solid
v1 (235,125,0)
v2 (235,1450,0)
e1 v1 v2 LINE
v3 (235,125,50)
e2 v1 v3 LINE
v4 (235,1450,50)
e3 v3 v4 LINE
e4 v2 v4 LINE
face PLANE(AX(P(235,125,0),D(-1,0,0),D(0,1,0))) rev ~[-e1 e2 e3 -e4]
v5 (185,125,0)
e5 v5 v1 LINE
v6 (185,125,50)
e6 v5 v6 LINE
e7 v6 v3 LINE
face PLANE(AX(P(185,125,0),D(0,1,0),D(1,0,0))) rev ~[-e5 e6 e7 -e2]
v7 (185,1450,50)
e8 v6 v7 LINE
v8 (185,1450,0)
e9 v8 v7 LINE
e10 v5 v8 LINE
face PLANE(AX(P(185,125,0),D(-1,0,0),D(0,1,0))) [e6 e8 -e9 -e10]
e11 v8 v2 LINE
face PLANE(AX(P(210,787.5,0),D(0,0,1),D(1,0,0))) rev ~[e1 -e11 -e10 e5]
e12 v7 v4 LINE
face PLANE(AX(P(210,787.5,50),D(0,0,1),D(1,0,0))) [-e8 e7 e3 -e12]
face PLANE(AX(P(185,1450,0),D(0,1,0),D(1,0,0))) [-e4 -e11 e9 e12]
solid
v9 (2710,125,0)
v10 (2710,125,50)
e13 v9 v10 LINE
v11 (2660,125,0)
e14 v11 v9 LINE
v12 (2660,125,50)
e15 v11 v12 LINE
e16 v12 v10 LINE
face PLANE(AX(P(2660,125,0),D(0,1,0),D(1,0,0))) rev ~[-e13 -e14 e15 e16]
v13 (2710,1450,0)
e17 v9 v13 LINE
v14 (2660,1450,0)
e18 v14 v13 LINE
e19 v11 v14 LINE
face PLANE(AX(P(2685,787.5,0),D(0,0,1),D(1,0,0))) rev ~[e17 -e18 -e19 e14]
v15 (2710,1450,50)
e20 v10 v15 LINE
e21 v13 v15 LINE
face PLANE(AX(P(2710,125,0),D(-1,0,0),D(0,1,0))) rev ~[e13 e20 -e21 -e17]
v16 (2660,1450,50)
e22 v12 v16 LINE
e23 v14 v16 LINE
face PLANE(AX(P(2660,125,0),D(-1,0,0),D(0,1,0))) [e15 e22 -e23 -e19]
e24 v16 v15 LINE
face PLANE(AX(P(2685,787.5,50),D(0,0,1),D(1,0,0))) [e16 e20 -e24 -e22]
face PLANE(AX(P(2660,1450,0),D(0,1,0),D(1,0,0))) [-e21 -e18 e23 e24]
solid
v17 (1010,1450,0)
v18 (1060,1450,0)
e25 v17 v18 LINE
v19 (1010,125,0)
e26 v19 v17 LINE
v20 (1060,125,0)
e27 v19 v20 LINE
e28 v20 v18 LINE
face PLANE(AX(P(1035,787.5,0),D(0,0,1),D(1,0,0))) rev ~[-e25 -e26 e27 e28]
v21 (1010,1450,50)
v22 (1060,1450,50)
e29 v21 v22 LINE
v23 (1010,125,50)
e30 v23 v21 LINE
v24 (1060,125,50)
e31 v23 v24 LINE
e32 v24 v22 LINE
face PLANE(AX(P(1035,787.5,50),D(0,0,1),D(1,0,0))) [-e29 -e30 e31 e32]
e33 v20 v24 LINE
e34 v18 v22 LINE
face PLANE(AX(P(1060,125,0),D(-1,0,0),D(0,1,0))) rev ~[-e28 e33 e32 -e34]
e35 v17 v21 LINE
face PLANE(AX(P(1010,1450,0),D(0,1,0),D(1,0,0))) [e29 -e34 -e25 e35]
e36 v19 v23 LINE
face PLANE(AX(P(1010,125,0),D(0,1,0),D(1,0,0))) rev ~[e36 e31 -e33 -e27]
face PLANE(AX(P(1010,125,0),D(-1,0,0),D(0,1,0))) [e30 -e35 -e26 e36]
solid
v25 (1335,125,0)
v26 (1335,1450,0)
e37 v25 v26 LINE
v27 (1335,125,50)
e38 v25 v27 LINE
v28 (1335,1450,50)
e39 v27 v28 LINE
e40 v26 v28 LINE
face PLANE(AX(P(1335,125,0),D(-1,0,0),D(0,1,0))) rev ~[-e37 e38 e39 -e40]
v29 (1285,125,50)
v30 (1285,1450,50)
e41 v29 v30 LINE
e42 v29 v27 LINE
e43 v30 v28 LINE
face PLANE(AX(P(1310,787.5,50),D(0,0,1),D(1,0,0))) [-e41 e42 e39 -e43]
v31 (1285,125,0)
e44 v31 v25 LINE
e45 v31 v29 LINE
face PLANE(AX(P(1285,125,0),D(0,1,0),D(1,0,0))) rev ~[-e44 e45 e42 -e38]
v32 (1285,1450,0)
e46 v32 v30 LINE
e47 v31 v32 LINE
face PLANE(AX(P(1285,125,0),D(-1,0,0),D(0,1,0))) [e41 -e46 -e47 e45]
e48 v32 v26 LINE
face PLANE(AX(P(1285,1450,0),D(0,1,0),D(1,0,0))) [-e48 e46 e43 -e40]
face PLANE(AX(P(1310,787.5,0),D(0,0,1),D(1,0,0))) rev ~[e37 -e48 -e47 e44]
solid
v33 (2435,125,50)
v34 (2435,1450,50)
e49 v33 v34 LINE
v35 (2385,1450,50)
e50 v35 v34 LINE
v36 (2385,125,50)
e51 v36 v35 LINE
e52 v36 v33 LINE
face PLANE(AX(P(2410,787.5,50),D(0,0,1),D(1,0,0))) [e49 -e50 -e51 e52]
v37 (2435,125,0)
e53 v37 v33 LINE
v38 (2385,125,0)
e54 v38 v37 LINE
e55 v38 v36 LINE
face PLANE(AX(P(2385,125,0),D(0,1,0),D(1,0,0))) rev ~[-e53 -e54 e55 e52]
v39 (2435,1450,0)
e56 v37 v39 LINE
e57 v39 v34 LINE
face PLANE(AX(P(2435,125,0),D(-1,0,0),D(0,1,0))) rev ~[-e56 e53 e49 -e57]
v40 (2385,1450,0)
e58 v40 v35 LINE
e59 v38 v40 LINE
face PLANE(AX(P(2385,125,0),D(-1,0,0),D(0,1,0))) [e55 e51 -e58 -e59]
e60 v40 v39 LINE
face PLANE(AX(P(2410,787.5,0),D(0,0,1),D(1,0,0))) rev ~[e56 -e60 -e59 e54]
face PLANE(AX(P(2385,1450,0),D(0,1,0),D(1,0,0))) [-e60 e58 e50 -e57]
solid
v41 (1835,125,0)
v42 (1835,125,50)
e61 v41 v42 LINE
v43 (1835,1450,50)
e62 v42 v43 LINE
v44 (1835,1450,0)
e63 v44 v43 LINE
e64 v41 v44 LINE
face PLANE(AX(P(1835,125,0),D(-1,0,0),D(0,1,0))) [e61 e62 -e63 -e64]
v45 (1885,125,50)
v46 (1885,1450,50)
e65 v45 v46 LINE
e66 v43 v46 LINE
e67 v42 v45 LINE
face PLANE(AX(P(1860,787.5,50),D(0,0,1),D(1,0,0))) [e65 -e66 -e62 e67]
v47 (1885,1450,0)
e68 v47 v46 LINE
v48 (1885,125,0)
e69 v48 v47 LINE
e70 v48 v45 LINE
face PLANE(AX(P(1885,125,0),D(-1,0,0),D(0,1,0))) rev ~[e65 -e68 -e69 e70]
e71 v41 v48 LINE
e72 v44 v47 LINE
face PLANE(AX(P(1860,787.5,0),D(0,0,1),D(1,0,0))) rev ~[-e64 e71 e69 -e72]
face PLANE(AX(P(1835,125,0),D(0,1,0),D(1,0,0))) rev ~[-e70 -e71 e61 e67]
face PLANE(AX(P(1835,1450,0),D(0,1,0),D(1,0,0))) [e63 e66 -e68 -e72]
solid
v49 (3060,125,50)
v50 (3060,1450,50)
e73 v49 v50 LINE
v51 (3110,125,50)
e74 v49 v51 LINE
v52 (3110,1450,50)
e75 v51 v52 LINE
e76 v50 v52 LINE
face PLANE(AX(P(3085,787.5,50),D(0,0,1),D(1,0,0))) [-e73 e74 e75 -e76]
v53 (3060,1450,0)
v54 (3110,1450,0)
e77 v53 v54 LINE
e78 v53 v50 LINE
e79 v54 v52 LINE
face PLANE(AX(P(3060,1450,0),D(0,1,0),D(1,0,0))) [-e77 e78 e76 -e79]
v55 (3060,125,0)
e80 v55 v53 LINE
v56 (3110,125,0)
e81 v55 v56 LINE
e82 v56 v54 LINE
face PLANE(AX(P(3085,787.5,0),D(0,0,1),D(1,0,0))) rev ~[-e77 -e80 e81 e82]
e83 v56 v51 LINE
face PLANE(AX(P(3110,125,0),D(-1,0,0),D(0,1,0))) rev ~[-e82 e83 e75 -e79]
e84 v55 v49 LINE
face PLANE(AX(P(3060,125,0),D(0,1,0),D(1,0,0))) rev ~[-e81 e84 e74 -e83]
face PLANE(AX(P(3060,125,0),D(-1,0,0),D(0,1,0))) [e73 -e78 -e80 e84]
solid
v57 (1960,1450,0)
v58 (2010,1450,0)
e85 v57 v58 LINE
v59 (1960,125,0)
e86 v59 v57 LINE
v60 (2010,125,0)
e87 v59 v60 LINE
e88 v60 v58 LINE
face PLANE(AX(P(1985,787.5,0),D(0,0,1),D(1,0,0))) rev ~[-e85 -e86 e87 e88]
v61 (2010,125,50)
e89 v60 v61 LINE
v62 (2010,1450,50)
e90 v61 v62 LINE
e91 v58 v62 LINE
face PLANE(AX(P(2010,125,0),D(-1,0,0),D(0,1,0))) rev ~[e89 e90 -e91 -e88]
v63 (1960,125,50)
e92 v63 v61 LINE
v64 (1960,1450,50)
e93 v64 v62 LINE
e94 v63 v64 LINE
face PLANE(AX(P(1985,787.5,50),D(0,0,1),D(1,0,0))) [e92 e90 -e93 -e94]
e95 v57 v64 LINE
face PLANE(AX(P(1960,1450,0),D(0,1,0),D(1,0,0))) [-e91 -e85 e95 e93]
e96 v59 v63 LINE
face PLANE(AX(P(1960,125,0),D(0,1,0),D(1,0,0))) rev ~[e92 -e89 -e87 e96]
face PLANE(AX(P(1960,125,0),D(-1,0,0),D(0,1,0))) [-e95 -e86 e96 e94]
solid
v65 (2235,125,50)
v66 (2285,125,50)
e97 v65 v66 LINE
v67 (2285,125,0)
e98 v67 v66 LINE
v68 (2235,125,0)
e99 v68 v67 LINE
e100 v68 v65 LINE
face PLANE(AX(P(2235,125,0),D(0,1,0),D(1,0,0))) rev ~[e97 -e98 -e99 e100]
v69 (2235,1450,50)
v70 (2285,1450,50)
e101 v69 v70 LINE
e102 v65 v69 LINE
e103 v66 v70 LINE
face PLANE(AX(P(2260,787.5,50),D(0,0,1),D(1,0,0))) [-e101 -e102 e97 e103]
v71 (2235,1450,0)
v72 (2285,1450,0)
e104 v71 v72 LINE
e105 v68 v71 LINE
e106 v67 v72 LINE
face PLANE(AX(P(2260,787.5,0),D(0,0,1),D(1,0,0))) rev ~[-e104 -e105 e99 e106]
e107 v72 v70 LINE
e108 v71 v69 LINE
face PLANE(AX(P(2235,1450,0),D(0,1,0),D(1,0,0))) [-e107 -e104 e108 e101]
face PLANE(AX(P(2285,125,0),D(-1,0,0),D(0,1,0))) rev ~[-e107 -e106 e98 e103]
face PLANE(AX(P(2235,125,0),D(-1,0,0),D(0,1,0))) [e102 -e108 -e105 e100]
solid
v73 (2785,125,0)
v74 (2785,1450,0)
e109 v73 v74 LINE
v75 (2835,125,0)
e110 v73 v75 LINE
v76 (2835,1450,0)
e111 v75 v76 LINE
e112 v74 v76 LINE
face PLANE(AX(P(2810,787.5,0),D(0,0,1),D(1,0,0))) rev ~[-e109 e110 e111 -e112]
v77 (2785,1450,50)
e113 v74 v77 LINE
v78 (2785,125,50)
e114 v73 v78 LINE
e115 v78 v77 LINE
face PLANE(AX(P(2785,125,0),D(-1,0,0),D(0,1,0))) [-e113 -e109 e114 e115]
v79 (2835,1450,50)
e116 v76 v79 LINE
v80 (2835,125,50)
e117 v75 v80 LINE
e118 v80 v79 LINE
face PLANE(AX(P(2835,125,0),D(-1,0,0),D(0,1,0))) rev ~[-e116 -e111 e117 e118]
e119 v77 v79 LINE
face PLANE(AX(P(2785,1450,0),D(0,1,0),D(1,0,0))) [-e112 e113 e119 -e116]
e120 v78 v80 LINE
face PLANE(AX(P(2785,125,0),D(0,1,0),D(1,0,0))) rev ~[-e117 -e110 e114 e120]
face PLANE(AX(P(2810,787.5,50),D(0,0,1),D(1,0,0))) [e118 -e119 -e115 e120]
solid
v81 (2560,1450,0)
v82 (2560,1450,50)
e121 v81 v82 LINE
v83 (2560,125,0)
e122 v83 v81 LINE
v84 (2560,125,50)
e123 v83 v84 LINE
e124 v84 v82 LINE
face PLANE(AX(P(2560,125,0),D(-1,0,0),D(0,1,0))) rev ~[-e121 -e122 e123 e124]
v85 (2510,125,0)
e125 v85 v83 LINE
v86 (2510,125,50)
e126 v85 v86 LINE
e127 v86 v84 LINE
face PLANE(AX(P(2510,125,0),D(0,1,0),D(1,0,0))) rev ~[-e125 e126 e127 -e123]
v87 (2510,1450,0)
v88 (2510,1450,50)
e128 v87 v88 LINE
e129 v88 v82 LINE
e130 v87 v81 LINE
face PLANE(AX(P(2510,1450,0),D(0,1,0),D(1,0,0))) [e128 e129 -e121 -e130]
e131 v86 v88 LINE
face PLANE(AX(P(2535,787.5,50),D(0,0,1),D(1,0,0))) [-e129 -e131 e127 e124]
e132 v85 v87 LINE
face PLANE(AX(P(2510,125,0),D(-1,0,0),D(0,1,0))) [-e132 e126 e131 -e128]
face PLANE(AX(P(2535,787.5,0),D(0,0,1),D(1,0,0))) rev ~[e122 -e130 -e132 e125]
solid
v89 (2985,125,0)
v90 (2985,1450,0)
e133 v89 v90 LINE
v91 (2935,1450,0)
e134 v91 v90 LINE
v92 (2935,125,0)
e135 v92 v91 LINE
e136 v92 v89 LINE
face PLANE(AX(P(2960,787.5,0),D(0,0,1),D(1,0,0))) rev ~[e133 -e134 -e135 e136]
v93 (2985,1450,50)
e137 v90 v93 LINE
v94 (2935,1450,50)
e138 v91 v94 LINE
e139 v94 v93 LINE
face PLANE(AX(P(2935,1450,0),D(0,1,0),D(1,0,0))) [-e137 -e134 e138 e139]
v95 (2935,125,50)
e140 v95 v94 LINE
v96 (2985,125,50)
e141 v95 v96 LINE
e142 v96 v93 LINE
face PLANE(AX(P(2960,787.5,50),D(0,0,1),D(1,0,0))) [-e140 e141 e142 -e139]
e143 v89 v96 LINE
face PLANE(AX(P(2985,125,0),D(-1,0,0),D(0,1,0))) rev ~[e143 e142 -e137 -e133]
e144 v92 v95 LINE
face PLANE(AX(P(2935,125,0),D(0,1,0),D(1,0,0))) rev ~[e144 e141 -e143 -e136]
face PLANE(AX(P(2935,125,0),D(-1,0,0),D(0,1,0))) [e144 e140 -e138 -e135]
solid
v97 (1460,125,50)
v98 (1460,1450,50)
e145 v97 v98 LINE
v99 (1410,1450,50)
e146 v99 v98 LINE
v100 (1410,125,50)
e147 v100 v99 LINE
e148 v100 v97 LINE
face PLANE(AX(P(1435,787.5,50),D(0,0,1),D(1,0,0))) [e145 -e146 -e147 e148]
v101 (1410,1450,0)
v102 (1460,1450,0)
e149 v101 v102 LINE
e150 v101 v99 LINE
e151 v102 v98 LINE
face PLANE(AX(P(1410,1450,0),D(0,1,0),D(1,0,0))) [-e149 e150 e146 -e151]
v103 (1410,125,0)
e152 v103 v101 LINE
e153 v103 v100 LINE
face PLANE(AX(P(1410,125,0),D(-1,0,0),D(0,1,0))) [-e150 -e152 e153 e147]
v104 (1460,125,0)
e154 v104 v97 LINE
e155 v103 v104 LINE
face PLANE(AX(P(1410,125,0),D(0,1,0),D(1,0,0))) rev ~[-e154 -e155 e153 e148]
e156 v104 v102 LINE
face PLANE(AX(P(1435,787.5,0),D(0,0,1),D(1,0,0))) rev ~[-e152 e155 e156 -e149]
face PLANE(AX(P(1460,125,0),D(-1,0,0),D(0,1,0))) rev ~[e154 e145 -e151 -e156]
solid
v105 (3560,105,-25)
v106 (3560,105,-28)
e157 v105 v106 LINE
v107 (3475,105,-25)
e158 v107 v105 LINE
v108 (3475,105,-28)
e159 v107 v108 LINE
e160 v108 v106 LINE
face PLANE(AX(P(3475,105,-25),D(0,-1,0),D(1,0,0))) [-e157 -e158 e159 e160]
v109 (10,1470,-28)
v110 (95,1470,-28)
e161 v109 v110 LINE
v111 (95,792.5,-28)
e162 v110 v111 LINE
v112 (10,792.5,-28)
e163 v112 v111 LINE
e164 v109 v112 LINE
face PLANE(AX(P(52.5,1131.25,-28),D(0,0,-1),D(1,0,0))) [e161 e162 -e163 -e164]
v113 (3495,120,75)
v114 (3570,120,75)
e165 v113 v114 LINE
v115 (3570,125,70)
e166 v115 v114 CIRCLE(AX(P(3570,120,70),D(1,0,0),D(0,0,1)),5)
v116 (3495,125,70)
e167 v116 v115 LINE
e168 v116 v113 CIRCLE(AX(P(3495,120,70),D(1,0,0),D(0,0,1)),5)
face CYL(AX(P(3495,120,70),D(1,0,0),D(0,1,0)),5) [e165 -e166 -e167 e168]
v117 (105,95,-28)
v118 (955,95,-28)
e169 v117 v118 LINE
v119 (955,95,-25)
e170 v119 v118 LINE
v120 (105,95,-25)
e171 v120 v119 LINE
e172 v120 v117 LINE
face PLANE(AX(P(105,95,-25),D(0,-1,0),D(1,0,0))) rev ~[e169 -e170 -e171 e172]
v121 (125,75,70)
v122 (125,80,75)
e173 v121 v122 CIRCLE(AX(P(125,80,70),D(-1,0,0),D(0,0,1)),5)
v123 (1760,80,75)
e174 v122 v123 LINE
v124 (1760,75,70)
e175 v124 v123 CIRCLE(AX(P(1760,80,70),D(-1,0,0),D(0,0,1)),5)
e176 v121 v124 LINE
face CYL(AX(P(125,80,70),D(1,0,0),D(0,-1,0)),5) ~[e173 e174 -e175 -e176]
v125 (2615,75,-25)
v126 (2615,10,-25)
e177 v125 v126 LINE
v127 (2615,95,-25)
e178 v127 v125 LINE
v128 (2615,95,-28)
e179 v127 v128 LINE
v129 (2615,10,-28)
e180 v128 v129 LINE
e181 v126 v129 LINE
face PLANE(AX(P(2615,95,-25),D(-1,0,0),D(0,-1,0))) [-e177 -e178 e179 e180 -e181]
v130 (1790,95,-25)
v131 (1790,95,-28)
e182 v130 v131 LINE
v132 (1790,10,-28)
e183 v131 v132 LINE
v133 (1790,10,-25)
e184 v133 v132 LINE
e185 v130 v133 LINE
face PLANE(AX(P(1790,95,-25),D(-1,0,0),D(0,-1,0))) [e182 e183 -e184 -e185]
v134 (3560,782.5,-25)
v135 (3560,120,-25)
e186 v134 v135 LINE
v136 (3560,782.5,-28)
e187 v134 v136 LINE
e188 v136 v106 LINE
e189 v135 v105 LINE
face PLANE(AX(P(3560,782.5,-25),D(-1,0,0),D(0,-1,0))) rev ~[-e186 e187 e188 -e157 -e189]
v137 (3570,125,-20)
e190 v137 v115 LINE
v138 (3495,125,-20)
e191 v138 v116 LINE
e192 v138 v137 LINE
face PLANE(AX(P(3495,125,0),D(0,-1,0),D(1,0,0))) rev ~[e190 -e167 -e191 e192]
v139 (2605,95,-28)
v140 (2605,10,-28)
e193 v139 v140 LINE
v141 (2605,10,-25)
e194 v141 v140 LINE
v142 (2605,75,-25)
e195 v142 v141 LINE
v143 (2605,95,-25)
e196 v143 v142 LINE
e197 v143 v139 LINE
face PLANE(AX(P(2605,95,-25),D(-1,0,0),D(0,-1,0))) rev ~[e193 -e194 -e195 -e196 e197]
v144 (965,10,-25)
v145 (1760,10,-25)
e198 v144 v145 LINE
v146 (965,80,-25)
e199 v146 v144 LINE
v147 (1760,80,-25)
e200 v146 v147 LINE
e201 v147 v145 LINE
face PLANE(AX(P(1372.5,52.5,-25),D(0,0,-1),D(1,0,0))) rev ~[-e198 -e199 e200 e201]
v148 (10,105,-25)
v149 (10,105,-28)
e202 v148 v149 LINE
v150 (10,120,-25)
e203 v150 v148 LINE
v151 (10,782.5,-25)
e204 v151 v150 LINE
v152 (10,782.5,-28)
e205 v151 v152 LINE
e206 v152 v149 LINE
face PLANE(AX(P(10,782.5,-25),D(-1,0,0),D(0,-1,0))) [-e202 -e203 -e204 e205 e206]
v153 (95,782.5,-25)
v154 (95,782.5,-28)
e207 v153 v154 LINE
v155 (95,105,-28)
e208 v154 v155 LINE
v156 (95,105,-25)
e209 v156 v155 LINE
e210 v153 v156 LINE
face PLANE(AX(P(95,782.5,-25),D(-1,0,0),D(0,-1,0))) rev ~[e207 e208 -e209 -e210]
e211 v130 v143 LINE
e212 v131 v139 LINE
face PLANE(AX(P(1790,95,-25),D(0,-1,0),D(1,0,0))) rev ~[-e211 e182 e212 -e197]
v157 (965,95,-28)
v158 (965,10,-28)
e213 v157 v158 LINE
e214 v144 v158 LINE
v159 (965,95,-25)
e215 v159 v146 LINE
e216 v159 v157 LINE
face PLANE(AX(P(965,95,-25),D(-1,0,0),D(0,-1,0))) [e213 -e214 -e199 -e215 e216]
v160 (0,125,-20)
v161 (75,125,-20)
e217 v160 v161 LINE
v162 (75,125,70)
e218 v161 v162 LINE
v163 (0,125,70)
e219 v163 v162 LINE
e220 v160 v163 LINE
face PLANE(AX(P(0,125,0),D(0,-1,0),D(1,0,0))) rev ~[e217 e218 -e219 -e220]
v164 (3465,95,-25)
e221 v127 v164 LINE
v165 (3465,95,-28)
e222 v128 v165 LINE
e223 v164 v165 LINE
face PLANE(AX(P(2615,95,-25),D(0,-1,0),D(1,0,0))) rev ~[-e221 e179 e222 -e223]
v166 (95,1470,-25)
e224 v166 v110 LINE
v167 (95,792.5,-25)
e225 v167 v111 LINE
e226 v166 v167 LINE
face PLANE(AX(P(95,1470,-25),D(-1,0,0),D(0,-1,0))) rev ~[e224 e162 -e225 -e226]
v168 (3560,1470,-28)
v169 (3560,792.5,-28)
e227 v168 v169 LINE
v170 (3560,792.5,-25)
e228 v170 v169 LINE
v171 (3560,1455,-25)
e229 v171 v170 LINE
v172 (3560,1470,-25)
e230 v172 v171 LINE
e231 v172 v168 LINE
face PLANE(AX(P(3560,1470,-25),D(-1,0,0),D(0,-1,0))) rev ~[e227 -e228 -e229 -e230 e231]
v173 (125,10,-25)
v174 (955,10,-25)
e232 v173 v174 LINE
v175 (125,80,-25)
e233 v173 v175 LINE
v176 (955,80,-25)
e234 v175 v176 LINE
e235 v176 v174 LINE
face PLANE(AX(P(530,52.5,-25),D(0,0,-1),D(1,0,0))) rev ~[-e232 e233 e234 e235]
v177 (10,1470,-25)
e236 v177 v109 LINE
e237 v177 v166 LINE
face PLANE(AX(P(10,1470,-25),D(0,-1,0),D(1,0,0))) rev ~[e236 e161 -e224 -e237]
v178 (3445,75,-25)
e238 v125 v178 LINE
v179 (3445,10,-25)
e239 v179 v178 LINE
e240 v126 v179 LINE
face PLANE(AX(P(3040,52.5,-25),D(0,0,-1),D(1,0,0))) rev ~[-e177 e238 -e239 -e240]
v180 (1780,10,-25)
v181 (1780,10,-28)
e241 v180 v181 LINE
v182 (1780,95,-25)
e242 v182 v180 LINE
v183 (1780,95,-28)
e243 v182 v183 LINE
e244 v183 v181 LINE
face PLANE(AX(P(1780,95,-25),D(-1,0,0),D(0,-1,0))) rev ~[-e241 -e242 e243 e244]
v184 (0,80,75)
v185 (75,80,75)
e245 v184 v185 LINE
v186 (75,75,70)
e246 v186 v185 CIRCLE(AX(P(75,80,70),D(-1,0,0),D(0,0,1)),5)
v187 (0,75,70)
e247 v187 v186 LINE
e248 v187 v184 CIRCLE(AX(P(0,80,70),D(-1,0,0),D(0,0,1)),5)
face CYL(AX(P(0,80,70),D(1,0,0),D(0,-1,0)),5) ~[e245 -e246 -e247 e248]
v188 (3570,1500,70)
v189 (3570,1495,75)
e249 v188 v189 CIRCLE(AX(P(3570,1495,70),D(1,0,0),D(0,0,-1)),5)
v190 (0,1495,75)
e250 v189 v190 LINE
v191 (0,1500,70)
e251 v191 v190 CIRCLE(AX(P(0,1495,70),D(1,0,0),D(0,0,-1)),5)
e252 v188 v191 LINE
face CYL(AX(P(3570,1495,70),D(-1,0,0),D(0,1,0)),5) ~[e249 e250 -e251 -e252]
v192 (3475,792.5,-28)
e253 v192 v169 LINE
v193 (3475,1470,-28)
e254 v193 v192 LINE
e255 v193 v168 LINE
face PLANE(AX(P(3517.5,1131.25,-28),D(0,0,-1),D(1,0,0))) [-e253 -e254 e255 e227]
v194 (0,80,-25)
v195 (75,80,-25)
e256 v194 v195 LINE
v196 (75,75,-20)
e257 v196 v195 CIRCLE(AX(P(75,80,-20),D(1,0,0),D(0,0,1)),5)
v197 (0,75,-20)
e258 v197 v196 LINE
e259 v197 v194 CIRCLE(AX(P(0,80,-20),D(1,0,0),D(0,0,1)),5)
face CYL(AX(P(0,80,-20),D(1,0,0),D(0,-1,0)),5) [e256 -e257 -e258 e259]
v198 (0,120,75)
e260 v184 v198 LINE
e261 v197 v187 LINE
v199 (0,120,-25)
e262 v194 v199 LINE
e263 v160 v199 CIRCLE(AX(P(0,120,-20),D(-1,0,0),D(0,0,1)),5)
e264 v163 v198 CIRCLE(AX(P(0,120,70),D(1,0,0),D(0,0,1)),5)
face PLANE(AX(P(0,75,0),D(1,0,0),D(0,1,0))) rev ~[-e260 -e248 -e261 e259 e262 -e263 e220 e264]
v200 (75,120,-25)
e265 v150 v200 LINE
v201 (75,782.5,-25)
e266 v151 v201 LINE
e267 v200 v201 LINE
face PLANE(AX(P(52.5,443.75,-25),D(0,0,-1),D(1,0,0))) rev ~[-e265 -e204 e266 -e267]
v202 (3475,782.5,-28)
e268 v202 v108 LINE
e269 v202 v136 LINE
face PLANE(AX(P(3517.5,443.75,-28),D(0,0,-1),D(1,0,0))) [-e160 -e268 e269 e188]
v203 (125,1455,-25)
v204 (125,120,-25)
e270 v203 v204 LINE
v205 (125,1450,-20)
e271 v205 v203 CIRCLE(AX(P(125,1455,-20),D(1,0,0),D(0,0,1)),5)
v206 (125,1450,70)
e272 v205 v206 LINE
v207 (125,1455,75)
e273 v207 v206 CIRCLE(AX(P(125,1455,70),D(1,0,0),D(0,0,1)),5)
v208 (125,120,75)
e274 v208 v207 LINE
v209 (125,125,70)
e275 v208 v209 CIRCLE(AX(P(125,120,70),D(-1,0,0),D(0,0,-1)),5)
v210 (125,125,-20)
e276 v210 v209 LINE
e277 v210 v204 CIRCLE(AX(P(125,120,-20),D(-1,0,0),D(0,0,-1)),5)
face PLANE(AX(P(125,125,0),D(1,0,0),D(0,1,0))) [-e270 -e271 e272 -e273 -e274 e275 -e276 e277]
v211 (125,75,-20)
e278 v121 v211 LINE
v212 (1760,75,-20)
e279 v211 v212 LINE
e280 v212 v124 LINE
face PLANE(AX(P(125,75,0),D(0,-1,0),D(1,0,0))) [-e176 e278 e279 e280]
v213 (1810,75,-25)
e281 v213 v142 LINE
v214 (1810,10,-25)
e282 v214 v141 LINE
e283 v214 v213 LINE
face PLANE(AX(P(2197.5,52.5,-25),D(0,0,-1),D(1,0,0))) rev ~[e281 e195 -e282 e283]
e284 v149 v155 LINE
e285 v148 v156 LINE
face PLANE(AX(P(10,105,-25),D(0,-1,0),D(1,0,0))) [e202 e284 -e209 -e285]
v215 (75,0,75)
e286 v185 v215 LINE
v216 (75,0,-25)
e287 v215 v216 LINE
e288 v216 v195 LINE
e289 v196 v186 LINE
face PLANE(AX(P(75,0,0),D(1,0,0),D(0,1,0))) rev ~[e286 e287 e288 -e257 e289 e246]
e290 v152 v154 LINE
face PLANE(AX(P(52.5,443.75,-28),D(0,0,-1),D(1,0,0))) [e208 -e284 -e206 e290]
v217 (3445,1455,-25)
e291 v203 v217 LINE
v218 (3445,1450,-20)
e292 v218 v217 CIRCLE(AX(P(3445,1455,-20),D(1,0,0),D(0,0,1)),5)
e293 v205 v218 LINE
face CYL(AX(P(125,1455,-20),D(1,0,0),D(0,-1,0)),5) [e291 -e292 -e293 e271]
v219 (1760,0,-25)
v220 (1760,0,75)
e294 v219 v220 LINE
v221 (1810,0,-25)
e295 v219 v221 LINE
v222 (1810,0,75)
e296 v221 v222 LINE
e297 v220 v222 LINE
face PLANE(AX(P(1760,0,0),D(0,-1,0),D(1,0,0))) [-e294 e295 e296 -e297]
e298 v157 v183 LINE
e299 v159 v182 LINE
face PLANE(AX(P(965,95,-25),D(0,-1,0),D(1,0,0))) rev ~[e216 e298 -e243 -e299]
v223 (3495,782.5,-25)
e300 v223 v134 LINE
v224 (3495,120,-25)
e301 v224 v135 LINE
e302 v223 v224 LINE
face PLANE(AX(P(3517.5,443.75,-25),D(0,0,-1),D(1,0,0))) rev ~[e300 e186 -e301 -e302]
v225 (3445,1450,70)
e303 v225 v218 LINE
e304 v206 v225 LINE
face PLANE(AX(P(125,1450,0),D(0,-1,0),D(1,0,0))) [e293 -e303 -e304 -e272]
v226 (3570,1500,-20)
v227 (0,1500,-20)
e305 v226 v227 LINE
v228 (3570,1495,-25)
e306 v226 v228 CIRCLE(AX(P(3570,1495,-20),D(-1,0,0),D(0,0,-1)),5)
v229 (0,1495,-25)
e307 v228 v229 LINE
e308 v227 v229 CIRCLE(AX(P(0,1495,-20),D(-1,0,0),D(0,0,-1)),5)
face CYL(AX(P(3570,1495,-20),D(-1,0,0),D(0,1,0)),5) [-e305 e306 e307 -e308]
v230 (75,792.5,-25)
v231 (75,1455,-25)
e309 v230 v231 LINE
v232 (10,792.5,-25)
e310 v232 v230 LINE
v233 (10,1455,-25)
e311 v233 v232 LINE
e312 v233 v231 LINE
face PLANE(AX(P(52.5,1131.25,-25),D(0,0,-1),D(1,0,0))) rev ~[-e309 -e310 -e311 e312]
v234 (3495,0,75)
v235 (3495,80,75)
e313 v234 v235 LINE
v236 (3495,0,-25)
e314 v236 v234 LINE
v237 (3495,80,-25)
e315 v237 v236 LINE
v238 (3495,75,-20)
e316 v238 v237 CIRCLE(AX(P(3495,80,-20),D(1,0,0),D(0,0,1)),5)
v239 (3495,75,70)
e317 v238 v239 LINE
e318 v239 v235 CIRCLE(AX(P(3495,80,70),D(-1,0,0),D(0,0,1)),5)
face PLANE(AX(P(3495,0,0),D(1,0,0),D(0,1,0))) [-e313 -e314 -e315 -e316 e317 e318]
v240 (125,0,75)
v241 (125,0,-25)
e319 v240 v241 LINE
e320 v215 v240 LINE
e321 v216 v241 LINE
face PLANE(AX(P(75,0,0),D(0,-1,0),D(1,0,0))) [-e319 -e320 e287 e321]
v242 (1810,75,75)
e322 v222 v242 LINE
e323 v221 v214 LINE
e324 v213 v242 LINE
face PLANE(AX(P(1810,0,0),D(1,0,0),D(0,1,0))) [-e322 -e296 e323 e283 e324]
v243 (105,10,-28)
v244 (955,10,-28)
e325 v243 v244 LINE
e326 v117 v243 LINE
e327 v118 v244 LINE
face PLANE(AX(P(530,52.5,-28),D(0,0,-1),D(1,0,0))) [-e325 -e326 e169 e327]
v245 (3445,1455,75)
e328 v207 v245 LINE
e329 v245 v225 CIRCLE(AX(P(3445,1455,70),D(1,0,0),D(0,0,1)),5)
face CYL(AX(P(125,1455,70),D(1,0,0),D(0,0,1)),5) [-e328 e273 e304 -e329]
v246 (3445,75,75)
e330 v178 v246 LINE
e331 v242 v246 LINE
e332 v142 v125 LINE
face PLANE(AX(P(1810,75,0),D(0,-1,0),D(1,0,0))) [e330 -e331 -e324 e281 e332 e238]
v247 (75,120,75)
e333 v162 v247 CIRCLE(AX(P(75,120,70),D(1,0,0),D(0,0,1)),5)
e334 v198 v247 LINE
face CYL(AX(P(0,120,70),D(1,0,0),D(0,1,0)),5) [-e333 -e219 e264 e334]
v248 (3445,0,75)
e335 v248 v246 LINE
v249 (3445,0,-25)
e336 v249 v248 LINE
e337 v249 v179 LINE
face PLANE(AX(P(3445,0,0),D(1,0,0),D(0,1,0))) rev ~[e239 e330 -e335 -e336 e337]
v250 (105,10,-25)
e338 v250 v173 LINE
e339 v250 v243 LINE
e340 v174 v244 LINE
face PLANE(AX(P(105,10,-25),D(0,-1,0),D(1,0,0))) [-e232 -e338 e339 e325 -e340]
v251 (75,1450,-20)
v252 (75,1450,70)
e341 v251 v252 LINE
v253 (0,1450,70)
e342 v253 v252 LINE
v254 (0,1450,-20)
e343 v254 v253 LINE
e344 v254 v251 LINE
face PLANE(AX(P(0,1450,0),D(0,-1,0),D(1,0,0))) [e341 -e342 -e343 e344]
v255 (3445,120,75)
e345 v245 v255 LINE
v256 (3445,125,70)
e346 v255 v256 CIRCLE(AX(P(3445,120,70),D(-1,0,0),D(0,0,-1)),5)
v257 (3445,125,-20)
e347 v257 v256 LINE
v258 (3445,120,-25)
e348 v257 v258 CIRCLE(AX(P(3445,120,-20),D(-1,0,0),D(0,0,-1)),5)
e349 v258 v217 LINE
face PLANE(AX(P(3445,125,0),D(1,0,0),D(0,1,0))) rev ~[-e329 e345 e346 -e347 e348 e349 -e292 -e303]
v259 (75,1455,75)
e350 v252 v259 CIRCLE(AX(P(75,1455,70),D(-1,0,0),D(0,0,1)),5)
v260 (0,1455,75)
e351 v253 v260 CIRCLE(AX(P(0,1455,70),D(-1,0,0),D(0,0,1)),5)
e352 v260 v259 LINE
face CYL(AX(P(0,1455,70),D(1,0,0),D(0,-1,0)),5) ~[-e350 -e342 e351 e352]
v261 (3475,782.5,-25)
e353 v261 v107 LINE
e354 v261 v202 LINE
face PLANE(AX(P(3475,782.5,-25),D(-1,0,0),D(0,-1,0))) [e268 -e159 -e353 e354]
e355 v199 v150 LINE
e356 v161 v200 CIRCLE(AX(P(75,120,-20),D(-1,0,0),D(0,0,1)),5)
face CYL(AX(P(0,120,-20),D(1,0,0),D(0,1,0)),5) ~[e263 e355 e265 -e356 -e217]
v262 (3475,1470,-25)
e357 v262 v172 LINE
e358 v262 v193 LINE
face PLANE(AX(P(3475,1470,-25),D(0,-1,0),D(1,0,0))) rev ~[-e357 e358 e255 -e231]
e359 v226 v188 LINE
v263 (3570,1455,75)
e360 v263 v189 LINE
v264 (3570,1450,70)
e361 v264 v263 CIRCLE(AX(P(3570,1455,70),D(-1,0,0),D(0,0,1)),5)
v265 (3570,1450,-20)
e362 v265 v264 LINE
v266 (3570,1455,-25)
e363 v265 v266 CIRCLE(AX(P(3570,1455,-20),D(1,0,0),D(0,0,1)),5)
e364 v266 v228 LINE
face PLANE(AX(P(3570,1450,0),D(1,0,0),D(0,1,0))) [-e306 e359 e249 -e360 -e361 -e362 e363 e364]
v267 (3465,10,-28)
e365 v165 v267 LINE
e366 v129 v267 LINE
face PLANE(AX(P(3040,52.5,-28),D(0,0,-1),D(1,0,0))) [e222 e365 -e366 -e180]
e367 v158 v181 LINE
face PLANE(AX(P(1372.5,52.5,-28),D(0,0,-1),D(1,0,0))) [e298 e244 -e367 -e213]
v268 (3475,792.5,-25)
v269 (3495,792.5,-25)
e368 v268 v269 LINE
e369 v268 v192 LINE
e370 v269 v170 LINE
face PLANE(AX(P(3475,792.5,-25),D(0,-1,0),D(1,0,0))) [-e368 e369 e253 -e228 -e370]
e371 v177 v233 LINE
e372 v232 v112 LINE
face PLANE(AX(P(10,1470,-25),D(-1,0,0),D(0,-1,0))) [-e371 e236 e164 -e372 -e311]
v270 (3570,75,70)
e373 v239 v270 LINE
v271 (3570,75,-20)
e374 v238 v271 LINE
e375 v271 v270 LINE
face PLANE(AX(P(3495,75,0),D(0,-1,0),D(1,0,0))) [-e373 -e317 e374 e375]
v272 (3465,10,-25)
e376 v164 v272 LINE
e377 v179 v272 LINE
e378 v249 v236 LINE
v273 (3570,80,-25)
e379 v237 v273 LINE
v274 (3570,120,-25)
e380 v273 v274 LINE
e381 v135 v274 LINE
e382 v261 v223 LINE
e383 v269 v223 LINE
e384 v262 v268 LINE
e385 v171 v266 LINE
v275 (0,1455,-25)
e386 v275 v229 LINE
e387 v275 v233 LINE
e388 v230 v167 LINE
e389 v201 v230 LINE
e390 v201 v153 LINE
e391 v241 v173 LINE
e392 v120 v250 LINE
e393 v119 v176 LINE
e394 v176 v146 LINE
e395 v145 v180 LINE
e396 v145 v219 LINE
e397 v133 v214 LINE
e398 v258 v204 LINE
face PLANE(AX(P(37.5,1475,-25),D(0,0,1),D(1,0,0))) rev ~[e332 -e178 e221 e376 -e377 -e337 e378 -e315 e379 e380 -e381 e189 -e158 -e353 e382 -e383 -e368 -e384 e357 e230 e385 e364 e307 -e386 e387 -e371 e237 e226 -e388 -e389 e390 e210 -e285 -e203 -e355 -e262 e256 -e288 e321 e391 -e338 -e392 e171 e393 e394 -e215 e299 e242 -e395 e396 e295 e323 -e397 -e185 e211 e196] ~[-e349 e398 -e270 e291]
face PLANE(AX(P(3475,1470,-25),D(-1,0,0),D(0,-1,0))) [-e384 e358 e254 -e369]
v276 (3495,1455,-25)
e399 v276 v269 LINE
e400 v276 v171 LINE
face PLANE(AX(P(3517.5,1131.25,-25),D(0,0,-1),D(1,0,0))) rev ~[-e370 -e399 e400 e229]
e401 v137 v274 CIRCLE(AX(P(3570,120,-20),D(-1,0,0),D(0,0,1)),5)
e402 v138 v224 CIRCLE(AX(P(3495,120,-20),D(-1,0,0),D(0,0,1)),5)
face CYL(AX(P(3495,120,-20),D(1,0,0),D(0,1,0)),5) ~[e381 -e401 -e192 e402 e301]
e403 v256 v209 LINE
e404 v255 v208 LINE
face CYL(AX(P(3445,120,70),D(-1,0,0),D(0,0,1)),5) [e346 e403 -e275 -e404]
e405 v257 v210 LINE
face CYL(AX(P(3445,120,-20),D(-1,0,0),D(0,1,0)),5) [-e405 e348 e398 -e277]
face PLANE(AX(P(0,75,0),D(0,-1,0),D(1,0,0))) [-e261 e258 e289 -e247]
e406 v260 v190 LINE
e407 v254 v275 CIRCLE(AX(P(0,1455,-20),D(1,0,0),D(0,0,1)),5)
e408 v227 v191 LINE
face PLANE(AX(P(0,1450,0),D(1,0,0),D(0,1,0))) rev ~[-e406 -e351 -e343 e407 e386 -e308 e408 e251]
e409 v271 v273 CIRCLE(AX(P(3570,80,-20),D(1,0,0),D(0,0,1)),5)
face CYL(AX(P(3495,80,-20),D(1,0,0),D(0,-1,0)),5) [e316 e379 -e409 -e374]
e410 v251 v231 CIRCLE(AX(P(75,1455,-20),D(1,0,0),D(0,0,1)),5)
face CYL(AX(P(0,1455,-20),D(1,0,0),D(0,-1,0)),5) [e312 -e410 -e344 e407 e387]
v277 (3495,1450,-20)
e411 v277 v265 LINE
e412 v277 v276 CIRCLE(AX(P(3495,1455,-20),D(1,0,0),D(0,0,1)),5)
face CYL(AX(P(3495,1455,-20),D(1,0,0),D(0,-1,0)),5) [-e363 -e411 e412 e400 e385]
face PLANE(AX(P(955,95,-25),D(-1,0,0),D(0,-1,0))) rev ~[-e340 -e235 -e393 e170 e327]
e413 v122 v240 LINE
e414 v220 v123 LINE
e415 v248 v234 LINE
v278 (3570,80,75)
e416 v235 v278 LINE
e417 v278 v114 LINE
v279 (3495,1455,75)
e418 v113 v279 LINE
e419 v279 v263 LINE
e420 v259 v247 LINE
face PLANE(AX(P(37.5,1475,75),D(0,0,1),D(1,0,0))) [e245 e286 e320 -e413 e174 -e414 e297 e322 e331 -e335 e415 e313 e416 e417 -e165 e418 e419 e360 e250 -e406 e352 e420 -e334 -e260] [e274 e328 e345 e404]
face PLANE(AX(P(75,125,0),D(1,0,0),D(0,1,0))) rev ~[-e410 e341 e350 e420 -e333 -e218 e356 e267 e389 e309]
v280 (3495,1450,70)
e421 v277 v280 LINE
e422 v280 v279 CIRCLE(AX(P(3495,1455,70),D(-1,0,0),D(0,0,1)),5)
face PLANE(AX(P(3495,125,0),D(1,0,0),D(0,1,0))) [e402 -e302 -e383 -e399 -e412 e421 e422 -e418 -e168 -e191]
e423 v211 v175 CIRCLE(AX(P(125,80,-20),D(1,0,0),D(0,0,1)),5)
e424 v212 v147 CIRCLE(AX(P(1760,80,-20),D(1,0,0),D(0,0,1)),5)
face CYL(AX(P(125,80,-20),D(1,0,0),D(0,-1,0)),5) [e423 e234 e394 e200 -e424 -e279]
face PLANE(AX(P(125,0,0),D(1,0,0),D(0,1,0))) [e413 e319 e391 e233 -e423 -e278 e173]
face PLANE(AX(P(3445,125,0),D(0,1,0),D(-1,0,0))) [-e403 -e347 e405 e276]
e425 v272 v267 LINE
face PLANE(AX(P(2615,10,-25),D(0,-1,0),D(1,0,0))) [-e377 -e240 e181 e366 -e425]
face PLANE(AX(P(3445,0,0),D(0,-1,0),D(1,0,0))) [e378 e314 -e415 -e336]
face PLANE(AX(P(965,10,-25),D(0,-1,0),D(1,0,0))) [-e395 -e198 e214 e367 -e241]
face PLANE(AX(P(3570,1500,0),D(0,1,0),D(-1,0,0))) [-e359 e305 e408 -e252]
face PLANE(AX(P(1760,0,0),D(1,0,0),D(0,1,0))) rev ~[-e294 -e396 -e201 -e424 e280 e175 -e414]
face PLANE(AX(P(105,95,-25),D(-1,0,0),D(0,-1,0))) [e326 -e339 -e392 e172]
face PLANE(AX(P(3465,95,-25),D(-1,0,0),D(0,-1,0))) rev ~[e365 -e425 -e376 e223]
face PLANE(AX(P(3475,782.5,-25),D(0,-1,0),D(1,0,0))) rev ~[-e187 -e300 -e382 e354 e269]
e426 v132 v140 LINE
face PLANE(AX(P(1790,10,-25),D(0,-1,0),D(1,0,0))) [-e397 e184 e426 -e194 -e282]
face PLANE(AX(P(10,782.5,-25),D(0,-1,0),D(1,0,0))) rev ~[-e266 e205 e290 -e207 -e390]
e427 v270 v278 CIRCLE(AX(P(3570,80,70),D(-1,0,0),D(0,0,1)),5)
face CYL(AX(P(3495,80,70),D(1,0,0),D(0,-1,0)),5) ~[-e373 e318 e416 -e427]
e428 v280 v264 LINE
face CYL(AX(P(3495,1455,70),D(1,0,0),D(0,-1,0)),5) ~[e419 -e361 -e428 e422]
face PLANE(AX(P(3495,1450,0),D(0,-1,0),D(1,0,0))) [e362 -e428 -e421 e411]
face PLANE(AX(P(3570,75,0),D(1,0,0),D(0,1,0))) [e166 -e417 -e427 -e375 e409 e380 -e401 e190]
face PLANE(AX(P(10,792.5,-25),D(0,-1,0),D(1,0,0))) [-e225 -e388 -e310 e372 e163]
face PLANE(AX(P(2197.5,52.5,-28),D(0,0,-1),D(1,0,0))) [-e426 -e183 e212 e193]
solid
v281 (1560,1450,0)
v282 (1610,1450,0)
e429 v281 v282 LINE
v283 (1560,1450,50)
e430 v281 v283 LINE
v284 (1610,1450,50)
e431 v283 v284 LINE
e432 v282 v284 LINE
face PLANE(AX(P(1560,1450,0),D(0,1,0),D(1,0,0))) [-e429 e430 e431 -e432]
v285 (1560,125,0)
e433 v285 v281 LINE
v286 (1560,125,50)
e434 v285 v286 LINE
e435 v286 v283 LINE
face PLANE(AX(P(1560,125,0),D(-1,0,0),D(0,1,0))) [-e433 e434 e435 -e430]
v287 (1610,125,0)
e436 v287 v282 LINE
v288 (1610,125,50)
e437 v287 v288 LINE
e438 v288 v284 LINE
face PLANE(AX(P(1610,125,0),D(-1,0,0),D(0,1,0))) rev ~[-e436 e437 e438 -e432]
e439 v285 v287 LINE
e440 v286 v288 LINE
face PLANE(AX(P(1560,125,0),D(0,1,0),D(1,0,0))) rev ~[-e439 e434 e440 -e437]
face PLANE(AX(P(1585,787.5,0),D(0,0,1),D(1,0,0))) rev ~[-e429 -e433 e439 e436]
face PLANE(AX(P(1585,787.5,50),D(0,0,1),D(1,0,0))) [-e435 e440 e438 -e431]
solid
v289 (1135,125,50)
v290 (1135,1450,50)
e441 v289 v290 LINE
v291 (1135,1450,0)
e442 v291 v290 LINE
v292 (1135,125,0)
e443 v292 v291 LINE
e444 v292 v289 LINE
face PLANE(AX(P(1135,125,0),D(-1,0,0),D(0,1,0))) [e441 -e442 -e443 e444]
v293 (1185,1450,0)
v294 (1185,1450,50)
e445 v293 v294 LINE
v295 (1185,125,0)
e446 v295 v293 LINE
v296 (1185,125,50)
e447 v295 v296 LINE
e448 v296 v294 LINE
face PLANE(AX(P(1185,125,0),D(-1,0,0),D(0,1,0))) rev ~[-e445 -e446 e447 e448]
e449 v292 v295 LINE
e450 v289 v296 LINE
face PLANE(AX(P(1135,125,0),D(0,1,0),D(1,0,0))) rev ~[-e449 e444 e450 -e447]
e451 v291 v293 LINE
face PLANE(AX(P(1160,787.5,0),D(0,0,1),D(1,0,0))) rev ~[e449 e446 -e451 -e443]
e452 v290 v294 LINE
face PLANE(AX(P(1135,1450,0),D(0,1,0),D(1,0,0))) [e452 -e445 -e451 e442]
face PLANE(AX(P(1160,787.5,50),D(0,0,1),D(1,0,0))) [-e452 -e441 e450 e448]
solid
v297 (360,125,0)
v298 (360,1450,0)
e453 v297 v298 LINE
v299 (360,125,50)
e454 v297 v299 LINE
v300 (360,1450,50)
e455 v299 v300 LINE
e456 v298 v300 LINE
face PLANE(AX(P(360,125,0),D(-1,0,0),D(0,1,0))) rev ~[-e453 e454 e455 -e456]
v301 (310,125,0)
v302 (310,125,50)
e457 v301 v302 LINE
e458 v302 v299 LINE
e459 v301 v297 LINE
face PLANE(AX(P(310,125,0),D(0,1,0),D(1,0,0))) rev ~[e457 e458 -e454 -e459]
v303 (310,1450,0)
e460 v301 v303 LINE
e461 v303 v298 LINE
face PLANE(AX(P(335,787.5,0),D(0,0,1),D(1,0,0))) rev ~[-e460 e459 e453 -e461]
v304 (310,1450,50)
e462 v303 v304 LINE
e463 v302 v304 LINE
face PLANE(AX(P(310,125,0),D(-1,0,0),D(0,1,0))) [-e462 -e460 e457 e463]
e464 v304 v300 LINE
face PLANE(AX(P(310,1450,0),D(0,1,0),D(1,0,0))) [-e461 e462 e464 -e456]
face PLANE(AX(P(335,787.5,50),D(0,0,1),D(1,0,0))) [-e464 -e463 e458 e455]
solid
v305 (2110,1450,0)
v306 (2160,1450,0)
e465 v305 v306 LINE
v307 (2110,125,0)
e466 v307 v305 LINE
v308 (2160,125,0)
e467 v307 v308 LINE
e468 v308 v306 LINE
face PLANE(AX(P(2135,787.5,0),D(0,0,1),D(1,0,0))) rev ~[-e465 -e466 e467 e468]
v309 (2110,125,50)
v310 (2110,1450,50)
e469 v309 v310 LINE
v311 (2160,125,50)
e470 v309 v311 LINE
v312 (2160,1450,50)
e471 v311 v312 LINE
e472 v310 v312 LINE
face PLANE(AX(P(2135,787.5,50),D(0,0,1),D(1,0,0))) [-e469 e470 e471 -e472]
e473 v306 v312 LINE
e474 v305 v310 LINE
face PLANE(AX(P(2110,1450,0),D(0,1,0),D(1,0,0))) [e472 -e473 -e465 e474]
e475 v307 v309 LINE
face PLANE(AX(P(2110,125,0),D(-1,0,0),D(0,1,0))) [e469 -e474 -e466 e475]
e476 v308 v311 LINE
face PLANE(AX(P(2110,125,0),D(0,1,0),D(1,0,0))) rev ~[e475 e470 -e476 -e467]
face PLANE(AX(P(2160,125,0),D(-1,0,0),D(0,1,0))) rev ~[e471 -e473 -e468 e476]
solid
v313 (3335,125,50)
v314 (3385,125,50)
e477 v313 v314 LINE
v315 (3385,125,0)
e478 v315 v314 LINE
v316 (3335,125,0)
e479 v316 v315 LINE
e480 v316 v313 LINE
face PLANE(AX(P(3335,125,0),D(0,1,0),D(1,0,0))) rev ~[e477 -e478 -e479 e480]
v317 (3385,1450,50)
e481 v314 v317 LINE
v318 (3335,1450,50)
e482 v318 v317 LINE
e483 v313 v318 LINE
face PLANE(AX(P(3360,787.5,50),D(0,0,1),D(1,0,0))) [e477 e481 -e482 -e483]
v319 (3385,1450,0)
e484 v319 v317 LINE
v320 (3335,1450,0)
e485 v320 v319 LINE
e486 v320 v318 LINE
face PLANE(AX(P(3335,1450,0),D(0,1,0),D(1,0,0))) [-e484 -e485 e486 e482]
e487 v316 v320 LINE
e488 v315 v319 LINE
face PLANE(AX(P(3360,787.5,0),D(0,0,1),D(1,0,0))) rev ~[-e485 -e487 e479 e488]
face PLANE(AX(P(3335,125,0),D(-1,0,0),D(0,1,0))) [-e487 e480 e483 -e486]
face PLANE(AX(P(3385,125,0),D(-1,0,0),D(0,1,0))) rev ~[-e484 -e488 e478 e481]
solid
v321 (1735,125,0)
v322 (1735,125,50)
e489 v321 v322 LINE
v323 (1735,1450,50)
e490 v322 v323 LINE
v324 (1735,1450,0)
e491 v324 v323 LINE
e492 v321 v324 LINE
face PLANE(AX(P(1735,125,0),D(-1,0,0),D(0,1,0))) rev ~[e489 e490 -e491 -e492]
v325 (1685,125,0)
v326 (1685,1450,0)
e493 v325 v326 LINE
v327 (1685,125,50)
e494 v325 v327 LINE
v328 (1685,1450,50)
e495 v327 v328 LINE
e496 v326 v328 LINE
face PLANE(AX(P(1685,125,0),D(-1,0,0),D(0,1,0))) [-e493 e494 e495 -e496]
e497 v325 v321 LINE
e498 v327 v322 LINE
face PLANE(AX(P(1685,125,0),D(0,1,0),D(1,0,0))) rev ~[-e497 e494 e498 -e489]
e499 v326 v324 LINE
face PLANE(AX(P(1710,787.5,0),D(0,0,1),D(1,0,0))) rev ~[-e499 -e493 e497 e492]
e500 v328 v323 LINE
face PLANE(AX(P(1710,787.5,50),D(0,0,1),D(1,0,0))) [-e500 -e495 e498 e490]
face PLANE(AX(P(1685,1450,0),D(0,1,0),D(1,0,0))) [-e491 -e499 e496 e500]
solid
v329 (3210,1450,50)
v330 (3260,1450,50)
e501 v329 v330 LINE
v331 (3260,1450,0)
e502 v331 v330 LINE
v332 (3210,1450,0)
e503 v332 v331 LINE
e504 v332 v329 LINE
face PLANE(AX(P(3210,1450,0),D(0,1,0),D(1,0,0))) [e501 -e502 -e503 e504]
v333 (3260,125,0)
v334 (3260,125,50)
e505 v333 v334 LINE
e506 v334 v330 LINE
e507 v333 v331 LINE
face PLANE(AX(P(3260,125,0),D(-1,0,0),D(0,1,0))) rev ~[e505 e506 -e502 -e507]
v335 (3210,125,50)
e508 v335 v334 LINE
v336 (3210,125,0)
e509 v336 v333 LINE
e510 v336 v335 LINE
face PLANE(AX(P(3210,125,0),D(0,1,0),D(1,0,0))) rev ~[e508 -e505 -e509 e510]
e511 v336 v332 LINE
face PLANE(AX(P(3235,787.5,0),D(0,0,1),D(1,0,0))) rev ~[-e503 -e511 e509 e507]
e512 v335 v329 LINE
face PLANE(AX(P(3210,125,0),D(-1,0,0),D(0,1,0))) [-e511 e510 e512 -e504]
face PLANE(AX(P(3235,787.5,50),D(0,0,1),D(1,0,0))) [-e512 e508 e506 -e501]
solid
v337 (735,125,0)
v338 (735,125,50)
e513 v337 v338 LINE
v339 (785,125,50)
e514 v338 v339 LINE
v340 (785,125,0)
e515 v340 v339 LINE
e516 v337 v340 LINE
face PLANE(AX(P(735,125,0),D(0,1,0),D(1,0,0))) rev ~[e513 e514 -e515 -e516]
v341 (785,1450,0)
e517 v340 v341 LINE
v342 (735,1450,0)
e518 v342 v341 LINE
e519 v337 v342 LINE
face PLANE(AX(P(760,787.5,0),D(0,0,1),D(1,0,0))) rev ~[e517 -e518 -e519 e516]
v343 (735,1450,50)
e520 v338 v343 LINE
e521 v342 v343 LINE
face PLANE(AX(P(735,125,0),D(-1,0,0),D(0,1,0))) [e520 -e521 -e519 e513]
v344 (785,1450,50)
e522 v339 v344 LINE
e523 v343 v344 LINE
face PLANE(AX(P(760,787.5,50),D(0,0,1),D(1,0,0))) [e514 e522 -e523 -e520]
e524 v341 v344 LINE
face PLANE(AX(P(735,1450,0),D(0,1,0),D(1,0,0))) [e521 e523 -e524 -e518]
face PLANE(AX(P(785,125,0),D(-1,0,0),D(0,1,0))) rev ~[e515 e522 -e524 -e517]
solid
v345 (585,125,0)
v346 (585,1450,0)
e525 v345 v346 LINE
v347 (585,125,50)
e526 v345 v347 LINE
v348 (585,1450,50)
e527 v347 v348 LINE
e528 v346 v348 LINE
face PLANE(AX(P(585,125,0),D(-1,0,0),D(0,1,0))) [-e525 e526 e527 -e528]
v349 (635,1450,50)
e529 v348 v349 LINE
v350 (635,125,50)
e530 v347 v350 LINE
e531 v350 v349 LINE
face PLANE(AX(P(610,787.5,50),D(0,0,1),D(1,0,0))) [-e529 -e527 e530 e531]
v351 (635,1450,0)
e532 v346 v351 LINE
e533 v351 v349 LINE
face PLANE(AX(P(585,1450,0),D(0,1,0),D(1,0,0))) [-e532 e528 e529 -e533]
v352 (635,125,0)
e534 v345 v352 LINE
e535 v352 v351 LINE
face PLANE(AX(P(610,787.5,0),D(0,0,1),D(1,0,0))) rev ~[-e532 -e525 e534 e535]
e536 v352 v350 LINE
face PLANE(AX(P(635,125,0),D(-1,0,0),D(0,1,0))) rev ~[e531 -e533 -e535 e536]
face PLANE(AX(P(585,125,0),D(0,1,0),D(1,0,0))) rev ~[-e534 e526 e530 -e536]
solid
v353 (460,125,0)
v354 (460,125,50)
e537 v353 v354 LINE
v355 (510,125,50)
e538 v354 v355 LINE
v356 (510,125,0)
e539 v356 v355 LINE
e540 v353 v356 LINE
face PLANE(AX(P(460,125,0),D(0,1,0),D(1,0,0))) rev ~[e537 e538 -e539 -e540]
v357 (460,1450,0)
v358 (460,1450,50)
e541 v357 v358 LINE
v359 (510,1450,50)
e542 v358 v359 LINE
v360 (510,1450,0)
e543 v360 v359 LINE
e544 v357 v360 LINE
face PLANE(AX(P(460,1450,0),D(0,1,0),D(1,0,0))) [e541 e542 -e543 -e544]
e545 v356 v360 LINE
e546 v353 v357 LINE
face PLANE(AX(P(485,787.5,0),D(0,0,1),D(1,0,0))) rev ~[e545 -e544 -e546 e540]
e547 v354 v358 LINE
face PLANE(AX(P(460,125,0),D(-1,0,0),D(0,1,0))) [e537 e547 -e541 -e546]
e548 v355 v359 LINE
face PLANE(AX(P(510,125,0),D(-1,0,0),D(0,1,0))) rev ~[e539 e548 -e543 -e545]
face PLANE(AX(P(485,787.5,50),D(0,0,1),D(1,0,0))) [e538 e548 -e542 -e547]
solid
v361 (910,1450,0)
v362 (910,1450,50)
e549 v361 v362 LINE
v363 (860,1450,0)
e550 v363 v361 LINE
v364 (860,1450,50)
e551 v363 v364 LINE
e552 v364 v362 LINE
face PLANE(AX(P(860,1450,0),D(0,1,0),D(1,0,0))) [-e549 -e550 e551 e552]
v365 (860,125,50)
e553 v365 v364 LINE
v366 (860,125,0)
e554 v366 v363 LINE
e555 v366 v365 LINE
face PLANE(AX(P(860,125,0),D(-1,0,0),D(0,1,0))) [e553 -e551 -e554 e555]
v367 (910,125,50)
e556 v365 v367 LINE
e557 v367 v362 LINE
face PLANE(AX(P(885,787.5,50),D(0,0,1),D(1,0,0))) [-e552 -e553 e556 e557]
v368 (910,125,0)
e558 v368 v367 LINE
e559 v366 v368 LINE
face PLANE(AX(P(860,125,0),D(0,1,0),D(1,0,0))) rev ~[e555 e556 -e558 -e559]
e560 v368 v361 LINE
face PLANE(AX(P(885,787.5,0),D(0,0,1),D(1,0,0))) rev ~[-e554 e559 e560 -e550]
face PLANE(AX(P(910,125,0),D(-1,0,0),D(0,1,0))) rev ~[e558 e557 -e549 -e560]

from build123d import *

# Parameters (mm, degrees)
F0_W          = 75
F0_H          = 50
F0_W_2        = 50
F0_W_3        = 3320
F0_H_2        = 1325
F0_H_3        = 75
F1_DEPTH      = 75
F1_DEPTH_BACK = 25
F2_R          = 5
F3_W          = 50
F3_H          = 1325
F4_DEPTH      = 50
F5_W          = 85
F5_H          = 677.5
F5_W_2        = 850
F5_H_2        = 85
F5_W_3        = 815
F6_DEPTH      = 3


with BuildPart() as f1:
    # F0 (on Top) → F1 (new body, two sides)
    with BuildSketch(Plane.XY) as f1_sk:
        with Locations((37.5, 1475)):
            Rectangle(F0_W, F0_H)
        with Locations((100, 1475)):
            Rectangle(F0_W_2, F0_H)
        with Locations((1785, 1475)):
            Rectangle(F0_W_3, F0_H)
        with Locations((100, 787.5)):
            Rectangle(F0_W_2, F0_H_2)
        with Locations((3470, 1475)):
            Rectangle(F0_W_2, F0_H)
        with Locations((37.5, 100)):
            Rectangle(F0_W, F0_H)
        with Locations((100, 100)):
            Rectangle(F0_W_2, F0_H)
        with Locations((3532.5, 1475)):
            Rectangle(F0_W, F0_H)
        with Locations((3470, 787.5)):
            Rectangle(F0_W_2, F0_H_2)
        Polygon((3445, 125), (125, 125), (125, 75), (1760, 75), (1810, 75), (3445, 75), align=None)
        with Locations((100, 37.5)):
            Rectangle(F0_W_2, F0_H_3)
        with Locations((3470, 100)):
            Rectangle(F0_W_2, F0_H)
        with Locations((3532.5, 100)):
            Rectangle(F0_W, F0_H)
        with Locations((3470, 37.5)):
            Rectangle(F0_W_2, F0_H_3)
        with Locations((1785, 37.5)):
            Rectangle(F0_W_2, F0_H_3)
    extrude(amount=F1_DEPTH)
    extrude(f1_sk.sketch, amount=-F1_DEPTH_BACK)

    # F2
    f2_edges = [f1.edges().sort_by_distance(p)[0] for p in [
        (1785, 1450, 75),
        (1785, 1500, 75),
        (1785, 125, 75),
        (942.5, 75, 75),
        (37.5, 75, 75),
        (37.5, 125, 75),
        (3532.5, 125, 75),
        (3532.5, 75, 75),
        (3532.5, 1450, 75),
        (37.5, 1450, 75),
        (1785, 1500, -25),
        (1785, 1450, -25),
        (3532.5, 1450, -25),
        (3532.5, 75, -25),
        (3532.5, 125, -25),
        (1785, 125, -25),
        (942.5, 75, -25),
        (37.5, 125, -25),
        (37.5, 75, -25),
        (37.5, 1450, -25),
    ]]
    fillet(f2_edges, radius=F2_R)

    # F5 (on face) → F6 (join)
    with BuildSketch(Plane(origin=(0, 0, -25), x_dir=(1, 0, 0), z_dir=(0, 0, -1))):
        with Locations((3517.5, -1131.25)):
            Rectangle(F5_W, F5_H)
        with Locations((3517.5, -443.75)):
            Rectangle(F5_W, F5_H)
        with Locations((52.5, -1131.25)):
            Rectangle(F5_W, F5_H)
        with Locations((52.5, -443.75)):
            Rectangle(F5_W, F5_H)
        with Locations((3040, -52.5)):
            Rectangle(F5_W_2, F5_H_2)
        with Locations((2197.5, -52.5)):
            Rectangle(F5_W_3, F5_H_2)
        with Locations((530, -52.5)):
            Rectangle(F5_W_2, F5_H_2)
        with Locations((1372.5, -52.5)):
            Rectangle(F5_W_3, F5_H_2)
    extrude(amount=F6_DEPTH)


with BuildPart() as f4:
    # F3 (on Top) → F4 (new body)
    with BuildSketch(Plane.XY):
        with Locations((210, 787.5)):
            Rectangle(F3_W, F3_H)
    extrude(amount=F4_DEPTH)


with BuildPart() as f4b:
    # F3 (on Top) → F4, piece 2 (new body)
    with BuildSketch(Plane.XY):
        with Locations((335, 787.5)):
            Rectangle(F3_W, F3_H)
    extrude(amount=F4_DEPTH)


with BuildPart() as f4c:
    # F3 (on Top) → F4, piece 3 (new body)
    with BuildSketch(Plane.XY):
        with Locations((610, 787.5)):
            Rectangle(F3_W, F3_H)
    extrude(amount=F4_DEPTH)


with BuildPart() as f4d:
    # F3 (on Top) → F4, piece 4 (new body)
    with BuildSketch(Plane.XY):
        with Locations((485, 787.5)):
            Rectangle(F3_W, F3_H)
    extrude(amount=F4_DEPTH)


with BuildPart() as f4e:
    # F3 (on Top) → F4, piece 5 (new body)
    with BuildSketch(Plane.XY):
        with Locations((885, 787.5)):
            Rectangle(F3_W, F3_H)
    extrude(amount=F4_DEPTH)


with BuildPart() as f4f:
    # F3 (on Top) → F4, piece 6 (new body)
    with BuildSketch(Plane.XY):
        with Locations((760, 787.5)):
            Rectangle(F3_W, F3_H)
    extrude(amount=F4_DEPTH)


with BuildPart() as f4g:
    # F3 (on Top) → F4, piece 7 (new body)
    with BuildSketch(Plane.XY):
        with Locations((1160, 787.5)):
            Rectangle(F3_W, F3_H)
    extrude(amount=F4_DEPTH)


with BuildPart() as f4h:
    # F3 (on Top) → F4, piece 8 (new body)
    with BuildSketch(Plane.XY):
        with Locations((1035, 787.5)):
            Rectangle(F3_W, F3_H)
    extrude(amount=F4_DEPTH)


with BuildPart() as f4i:
    # F3 (on Top) → F4, piece 9 (new body)
    with BuildSketch(Plane.XY):
        with Locations((1435, 787.5)):
            Rectangle(F3_W, F3_H)
    extrude(amount=F4_DEPTH)


with BuildPart() as f4j:
    # F3 (on Top) → F4, piece 10 (new body)
    with BuildSketch(Plane.XY):
        with Locations((1310, 787.5)):
            Rectangle(F3_W, F3_H)
    extrude(amount=F4_DEPTH)


with BuildPart() as f4k:
    # F3 (on Top) → F4, piece 11 (new body)
    with BuildSketch(Plane.XY):
        with Locations((1710, 787.5)):
            Rectangle(F3_W, F3_H)
    extrude(amount=F4_DEPTH)


with BuildPart() as f4l:
    # F3 (on Top) → F4, piece 12 (new body)
    with BuildSketch(Plane.XY):
        with Locations((1585, 787.5)):
            Rectangle(F3_W, F3_H)
    extrude(amount=F4_DEPTH)


with BuildPart() as f4m:
    # F3 (on Top) → F4, piece 13 (new body)
    with BuildSketch(Plane.XY):
        with Locations((1985, 787.5)):
            Rectangle(F3_W, F3_H)
    extrude(amount=F4_DEPTH)


with BuildPart() as f4n:
    # F3 (on Top) → F4, piece 14 (new body)
    with BuildSketch(Plane.XY):
        with Locations((1860, 787.5)):
            Rectangle(F3_W, F3_H)
    extrude(amount=F4_DEPTH)


with BuildPart() as f4o:
    # F3 (on Top) → F4, piece 15 (new body)
    with BuildSketch(Plane.XY):
        with Locations((2260, 787.5)):
            Rectangle(F3_W, F3_H)
    extrude(amount=F4_DEPTH)


with BuildPart() as f4p:
    # F3 (on Top) → F4, piece 16 (new body)
    with BuildSketch(Plane.XY):
        with Locations((2135, 787.5)):
            Rectangle(F3_W, F3_H)
    extrude(amount=F4_DEPTH)


with BuildPart() as f4q:
    # F3 (on Top) → F4, piece 17 (new body)
    with BuildSketch(Plane.XY):
        with Locations((2535, 787.5)):
            Rectangle(F3_W, F3_H)
    extrude(amount=F4_DEPTH)


with BuildPart() as f4r:
    # F3 (on Top) → F4, piece 18 (new body)
    with BuildSketch(Plane.XY):
        with Locations((2410, 787.5)):
            Rectangle(F3_W, F3_H)
    extrude(amount=F4_DEPTH)


with BuildPart() as f4s:
    # F3 (on Top) → F4, piece 19 (new body)
    with BuildSketch(Plane.XY):
        with Locations((2810, 787.5)):
            Rectangle(F3_W, F3_H)
    extrude(amount=F4_DEPTH)


with BuildPart() as f4t:
    # F3 (on Top) → F4, piece 20 (new body)
    with BuildSketch(Plane.XY):
        with Locations((2685, 787.5)):
            Rectangle(F3_W, F3_H)
    extrude(amount=F4_DEPTH)


with BuildPart() as f4u:
    # F3 (on Top) → F4, piece 21 (new body)
    with BuildSketch(Plane.XY):
        with Locations((3085, 787.5)):
            Rectangle(F3_W, F3_H)
    extrude(amount=F4_DEPTH)


with BuildPart() as f4v:
    # F3 (on Top) → F4, piece 22 (new body)
    with BuildSketch(Plane.XY):
        with Locations((2960, 787.5)):
            Rectangle(F3_W, F3_H)
    extrude(amount=F4_DEPTH)


with BuildPart() as f4w:
    # F3 (on Top) → F4, piece 23 (new body)
    with BuildSketch(Plane.XY):
        with Locations((3360, 787.5)):
            Rectangle(F3_W, F3_H)
    extrude(amount=F4_DEPTH)


with BuildPart() as f4x:
    # F3 (on Top) → F4, piece 24 (new body)
    with BuildSketch(Plane.XY):
        with Locations((3235, 787.5)):
            Rectangle(F3_W, F3_H)
    extrude(amount=F4_DEPTH)


solid = Compound([f1.part, f4.part, f4b.part, f4c.part, f4d.part, f4e.part, f4f.part, f4g.part, f4h.part, f4i.part, f4j.part, f4k.part, f4l.part, f4m.part, f4n.part, f4o.part, f4p.part, f4q.part, f4r.part, f4s.part, f4t.part, f4u.part, f4v.part, f4w.part, f4x.part])
